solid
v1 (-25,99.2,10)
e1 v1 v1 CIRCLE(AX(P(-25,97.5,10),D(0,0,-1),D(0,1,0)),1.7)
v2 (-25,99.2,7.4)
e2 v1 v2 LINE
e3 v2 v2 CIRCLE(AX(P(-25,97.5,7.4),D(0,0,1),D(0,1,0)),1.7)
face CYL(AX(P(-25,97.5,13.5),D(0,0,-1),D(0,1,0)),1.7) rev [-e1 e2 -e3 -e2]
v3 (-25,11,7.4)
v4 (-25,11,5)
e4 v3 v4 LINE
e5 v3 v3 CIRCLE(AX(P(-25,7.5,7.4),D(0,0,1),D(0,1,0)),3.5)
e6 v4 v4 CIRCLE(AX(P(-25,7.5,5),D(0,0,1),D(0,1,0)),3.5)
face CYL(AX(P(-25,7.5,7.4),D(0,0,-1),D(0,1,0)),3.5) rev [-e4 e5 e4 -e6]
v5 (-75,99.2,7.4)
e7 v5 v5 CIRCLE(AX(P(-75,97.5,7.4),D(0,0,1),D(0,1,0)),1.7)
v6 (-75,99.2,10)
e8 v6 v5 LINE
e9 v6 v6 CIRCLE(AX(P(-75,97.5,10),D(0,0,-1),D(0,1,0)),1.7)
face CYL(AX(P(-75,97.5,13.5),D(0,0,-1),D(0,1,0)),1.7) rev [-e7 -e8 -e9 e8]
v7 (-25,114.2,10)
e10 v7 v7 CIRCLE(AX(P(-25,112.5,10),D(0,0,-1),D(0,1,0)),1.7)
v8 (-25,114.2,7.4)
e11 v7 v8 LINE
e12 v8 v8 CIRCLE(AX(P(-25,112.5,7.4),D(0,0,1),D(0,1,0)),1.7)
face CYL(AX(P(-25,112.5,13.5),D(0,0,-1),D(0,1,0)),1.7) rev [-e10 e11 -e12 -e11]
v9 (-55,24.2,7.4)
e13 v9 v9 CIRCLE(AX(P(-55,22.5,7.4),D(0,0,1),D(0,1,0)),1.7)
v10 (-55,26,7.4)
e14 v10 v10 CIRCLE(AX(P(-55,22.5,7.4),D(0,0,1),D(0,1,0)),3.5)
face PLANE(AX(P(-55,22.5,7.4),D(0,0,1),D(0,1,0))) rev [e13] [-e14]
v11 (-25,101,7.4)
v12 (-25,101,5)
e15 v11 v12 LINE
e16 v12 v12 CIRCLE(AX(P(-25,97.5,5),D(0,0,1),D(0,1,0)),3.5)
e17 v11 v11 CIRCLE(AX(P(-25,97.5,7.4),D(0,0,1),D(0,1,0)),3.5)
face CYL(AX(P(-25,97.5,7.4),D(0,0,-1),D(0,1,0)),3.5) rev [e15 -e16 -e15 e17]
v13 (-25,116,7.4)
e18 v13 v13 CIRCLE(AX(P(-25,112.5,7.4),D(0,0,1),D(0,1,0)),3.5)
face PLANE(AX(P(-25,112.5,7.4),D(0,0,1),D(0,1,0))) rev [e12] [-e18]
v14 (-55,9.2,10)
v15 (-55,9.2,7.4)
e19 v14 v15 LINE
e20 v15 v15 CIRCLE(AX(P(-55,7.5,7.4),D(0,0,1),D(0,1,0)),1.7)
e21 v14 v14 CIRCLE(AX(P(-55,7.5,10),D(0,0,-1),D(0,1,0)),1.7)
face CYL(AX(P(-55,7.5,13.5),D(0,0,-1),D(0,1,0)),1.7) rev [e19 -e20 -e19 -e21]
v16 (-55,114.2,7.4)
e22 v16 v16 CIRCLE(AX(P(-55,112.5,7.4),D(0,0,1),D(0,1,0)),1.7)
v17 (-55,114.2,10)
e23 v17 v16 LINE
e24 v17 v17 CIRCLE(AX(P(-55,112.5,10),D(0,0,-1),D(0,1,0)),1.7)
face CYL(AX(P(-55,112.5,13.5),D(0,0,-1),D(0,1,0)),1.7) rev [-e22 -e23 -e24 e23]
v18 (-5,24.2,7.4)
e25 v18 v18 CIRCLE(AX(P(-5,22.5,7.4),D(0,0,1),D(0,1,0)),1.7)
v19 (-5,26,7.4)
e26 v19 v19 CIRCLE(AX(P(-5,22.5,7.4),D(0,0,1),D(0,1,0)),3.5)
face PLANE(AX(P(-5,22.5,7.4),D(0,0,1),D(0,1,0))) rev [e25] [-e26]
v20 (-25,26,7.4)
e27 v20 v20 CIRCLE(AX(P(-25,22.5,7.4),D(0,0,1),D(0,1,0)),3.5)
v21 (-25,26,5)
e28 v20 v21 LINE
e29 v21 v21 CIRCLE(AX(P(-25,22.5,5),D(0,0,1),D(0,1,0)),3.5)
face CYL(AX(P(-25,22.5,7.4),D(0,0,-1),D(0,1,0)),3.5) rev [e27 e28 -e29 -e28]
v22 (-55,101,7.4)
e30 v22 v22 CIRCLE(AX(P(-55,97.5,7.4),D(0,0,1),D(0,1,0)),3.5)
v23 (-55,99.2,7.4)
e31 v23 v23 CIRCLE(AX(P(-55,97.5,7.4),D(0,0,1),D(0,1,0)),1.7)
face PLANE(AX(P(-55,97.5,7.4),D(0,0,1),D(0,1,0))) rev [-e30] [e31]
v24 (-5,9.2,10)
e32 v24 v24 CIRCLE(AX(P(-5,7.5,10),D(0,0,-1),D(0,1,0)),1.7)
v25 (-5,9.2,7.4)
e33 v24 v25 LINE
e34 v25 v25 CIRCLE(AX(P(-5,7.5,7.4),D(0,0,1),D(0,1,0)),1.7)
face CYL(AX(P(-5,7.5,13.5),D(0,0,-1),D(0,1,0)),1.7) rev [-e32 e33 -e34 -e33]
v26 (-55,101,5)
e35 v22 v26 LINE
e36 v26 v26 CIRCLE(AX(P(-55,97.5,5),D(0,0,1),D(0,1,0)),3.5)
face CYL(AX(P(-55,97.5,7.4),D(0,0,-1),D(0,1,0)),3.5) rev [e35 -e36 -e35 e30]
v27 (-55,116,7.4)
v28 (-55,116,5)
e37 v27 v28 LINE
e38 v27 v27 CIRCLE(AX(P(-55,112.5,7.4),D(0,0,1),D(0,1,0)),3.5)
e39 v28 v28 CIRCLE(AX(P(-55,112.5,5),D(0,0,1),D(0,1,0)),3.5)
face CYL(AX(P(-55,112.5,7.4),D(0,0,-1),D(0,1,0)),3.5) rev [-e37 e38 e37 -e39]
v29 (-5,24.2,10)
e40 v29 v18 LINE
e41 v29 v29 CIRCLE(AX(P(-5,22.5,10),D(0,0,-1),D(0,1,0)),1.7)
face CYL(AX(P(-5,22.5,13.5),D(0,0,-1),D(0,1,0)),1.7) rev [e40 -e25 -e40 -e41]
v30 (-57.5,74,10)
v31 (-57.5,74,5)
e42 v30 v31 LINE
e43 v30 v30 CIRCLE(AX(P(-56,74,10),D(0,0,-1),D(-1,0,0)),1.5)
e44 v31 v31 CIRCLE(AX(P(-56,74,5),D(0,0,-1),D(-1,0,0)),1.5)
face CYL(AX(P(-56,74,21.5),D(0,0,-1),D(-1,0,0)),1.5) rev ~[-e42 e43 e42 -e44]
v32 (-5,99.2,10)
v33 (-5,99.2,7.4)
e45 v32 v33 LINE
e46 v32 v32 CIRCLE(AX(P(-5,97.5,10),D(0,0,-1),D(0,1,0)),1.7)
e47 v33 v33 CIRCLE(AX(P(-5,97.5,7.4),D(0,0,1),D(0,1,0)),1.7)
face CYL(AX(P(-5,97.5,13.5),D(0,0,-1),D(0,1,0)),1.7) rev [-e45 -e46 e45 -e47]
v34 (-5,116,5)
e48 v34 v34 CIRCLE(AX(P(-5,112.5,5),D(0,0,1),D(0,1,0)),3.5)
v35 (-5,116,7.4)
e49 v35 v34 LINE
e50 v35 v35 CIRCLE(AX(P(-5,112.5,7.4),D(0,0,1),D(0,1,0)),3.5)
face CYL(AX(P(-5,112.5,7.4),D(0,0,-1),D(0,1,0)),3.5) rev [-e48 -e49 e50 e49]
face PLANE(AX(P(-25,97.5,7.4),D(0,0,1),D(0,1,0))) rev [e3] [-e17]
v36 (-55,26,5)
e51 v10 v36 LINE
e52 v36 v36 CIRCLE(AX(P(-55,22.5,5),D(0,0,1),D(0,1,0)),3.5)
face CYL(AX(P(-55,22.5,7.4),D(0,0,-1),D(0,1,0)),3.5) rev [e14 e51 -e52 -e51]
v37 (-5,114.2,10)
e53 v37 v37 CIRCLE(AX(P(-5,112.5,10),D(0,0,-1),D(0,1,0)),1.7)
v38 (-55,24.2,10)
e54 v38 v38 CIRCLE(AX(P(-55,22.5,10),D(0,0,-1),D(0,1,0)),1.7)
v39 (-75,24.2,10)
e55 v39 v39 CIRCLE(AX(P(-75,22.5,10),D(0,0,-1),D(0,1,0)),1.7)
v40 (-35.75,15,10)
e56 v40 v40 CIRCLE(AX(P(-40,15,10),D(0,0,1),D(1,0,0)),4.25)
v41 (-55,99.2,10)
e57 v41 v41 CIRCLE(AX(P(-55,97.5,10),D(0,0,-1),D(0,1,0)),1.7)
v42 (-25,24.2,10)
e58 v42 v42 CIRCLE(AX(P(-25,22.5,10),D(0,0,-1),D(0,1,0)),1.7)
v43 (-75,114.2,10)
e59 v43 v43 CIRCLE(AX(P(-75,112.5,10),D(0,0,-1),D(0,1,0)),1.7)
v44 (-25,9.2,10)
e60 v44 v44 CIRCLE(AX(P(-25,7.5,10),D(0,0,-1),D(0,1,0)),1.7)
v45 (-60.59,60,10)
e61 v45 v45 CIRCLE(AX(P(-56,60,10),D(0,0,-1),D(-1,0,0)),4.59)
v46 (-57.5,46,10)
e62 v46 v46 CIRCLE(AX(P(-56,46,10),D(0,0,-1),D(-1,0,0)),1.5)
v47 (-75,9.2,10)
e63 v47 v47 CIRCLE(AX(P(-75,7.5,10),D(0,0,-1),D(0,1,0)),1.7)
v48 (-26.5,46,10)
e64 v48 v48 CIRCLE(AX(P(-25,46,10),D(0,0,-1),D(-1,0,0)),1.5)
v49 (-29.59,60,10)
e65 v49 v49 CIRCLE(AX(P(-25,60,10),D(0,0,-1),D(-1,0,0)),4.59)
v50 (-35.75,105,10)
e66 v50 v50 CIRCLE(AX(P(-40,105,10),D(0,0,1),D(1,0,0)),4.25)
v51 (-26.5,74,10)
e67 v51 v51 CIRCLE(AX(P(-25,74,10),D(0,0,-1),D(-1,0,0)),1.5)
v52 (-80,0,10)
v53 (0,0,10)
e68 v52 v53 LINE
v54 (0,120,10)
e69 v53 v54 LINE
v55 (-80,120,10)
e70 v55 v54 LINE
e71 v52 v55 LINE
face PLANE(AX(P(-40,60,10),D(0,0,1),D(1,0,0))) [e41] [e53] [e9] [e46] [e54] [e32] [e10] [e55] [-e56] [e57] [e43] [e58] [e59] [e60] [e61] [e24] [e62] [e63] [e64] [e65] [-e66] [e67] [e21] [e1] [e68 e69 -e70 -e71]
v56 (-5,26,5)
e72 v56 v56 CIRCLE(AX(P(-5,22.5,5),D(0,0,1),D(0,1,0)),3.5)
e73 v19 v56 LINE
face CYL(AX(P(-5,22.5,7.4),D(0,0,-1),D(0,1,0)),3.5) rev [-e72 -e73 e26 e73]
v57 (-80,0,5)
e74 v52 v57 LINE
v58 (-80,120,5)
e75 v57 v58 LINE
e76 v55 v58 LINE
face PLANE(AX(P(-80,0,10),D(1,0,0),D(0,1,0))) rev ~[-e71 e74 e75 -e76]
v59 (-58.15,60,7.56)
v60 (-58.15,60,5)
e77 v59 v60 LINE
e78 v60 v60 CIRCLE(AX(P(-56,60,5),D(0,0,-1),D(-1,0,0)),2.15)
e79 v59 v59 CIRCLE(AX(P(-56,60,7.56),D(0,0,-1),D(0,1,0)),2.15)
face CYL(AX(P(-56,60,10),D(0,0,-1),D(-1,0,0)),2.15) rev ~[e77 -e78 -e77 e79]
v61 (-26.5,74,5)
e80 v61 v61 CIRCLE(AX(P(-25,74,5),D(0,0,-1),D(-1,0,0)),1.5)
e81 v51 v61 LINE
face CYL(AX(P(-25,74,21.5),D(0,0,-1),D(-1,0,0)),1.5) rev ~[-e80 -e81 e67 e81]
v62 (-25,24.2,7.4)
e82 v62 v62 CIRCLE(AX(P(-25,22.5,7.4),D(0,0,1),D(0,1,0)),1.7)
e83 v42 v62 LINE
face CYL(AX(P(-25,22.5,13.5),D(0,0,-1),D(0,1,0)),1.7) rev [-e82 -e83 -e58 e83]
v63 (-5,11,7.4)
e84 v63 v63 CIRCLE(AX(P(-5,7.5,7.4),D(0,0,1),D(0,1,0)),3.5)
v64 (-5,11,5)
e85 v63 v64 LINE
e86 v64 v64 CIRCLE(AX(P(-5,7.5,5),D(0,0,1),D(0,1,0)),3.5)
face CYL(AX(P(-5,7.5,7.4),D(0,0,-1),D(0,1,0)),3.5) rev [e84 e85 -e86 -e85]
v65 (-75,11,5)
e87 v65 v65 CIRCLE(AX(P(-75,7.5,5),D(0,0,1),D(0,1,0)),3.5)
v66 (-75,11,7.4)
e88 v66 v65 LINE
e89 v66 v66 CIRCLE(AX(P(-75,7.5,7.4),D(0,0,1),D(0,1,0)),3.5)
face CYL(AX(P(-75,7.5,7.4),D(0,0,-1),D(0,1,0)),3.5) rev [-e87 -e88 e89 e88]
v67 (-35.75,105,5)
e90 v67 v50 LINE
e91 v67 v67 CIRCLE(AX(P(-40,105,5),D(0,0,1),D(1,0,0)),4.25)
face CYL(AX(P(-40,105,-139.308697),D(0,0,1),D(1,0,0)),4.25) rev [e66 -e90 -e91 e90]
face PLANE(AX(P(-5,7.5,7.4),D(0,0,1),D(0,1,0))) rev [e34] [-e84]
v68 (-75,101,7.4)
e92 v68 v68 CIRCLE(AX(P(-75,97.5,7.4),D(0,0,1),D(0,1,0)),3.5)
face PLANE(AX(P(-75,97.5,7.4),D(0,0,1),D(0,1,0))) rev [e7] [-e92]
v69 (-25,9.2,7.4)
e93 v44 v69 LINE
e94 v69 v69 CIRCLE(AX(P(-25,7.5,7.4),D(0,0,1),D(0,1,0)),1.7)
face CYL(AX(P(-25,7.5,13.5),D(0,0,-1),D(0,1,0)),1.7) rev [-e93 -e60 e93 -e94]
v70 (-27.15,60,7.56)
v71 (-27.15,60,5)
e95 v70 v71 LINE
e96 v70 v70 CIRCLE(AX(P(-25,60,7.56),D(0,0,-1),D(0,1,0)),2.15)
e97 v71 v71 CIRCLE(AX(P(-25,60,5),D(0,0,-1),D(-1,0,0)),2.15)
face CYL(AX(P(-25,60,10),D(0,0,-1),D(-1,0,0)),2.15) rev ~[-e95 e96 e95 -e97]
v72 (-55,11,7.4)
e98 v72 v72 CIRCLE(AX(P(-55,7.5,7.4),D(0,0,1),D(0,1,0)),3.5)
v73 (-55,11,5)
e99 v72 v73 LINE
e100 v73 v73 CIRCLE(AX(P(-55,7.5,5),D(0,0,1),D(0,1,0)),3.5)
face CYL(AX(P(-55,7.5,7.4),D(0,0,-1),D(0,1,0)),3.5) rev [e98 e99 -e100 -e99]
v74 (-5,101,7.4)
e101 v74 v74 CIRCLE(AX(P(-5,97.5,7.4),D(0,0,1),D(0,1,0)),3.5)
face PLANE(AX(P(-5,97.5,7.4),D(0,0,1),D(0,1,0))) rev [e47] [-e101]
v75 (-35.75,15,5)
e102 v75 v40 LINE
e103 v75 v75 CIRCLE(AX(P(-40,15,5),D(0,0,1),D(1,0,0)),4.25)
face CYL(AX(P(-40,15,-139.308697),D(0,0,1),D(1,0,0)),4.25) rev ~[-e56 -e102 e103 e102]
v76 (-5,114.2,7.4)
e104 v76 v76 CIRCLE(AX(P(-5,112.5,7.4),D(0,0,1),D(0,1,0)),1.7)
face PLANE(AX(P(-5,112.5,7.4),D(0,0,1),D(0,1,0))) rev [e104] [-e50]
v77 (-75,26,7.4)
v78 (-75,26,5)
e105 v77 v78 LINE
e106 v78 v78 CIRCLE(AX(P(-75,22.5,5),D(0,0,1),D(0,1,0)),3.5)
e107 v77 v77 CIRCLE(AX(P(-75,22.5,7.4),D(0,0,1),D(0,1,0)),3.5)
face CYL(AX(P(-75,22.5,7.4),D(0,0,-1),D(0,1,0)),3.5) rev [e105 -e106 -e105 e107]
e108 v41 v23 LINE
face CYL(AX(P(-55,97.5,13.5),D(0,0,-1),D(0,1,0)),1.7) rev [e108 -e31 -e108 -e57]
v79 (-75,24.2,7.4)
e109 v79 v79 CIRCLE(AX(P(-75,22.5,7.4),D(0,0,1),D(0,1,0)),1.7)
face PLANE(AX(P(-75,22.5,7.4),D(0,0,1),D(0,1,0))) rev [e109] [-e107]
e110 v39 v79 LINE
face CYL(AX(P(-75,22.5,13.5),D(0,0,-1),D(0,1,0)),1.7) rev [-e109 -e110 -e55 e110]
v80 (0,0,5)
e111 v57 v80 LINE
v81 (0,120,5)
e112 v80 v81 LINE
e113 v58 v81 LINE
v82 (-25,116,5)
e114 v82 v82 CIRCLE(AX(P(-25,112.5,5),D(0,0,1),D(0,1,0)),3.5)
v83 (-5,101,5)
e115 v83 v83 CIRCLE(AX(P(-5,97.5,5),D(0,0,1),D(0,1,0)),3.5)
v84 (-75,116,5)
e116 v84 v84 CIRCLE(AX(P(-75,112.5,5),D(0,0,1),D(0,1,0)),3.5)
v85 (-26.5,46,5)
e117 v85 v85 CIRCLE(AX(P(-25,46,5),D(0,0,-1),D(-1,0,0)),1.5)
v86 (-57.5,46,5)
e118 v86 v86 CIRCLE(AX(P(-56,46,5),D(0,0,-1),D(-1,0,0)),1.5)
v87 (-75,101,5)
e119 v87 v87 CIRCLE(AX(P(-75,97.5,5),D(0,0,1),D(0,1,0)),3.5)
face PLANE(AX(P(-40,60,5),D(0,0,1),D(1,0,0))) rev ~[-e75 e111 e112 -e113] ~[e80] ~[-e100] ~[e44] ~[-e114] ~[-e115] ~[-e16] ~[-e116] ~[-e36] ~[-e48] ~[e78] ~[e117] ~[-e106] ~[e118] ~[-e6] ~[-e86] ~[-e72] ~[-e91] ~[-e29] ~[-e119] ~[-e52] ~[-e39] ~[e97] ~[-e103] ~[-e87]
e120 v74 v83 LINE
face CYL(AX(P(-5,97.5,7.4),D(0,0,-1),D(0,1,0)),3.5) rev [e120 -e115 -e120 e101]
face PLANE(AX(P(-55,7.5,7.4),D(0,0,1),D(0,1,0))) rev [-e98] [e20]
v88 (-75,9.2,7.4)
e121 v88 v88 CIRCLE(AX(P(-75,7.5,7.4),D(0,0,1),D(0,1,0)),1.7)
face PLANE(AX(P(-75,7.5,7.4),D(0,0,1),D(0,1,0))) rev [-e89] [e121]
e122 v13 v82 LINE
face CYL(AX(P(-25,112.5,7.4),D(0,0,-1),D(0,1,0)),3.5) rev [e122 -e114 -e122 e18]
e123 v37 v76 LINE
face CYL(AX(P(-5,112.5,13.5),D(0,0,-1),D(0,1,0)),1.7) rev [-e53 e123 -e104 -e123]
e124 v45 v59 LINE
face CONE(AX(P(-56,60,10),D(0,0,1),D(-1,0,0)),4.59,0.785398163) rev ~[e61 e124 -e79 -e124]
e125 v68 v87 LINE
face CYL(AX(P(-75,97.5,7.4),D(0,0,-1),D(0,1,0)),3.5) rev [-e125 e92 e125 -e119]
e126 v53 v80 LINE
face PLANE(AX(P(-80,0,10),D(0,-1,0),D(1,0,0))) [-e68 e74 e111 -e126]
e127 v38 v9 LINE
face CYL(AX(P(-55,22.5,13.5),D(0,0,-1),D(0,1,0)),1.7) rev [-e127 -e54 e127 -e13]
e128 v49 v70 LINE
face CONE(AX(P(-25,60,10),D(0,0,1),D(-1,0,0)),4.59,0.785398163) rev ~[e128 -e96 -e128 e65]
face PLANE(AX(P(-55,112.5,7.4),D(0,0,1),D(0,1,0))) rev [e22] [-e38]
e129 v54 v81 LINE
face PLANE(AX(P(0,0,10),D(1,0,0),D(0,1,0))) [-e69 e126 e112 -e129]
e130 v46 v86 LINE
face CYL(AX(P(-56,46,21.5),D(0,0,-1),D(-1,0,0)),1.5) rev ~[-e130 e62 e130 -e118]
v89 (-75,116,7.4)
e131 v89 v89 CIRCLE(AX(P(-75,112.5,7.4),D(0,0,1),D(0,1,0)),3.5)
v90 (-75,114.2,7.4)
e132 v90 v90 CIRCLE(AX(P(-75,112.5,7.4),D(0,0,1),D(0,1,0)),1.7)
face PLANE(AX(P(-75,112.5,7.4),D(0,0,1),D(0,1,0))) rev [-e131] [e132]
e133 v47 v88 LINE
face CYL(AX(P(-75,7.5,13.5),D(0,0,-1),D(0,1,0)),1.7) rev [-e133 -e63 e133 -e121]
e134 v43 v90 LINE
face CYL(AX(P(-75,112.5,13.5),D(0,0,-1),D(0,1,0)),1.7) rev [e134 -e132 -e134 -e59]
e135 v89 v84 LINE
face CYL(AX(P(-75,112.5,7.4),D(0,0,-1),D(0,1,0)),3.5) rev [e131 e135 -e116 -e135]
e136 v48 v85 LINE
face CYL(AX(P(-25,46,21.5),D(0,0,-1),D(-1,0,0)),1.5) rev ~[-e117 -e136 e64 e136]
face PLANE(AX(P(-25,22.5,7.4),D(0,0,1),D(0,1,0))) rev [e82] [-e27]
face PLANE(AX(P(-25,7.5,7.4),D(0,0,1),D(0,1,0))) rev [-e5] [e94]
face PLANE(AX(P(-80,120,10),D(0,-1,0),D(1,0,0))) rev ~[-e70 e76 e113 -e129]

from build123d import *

# Parameters (mm, degrees)
SKIZZE1_W                                            = 80
SKIZZE1_H                                            = 120
AUFSATZ_LINEAR_AUSTRAGEN1_DEPTH                      = 5
FORMSENKUNG_F_R_M4_SENKSCHRAUBE_MIT_INNE_D           = 4.3
FORMSENKUNG_F_R_M4_SENKSCHRAUBE_MIT_INNE_DEPTH       = 11.5
FORMSENKUNG_F_R_M4_SENKSCHRAUBE_MIT_INNE_CSINK_D     = 9.18
FORMSENKUNG_F_R_M4_SENKSCHRAUBE_MIT_INNE_CSINK_ANGLE = 90
FORMSENKUNG_F_R_M4_SENKSCHRAUBE_MIT_INNE_TIP         = 1.291850331
F_3_0MM_STIFTLOCH1_D                                 = 3
F_3_0MM_STIFTLOCH1_DEPTH                             = 11.5
F_3_0MM_STIFTLOCH1_TIP                               = 0.901290929
STIRNSENKUNG_F_R_M3_FLACHKOPFSCHRAUB_2_COUNT         = 2
STIRNSENKUNG_F_R_M3_FLACHKOPFSCHRAUB_2_PITCH         = 15
STIRNSENKUNG_F_R_M3_FLACHKOPFSCHRAUB_3_COUNT         = 2
STIRNSENKUNG_F_R_M3_FLACHKOPFSCHRAUB_3_PITCH         = 25
STIRNSENKUNG_F_R_M3_FLACHKOPFSCHRAUB_4_COUNT         = 2
STIRNSENKUNG_F_R_M3_FLACHKOPFSCHRAUB_4_PITCH         = 20
STIRNSENKUNG_F_R_M3_FLACHKOPFSCHRAUB_5_COUNT         = 2
STIRNSENKUNG_F_R_M3_FLACHKOPFSCHRAUB_5_PITCH         = 90
STIRNSENKUNG_F_R_M3_FLACHKOPFSCHRAUB_6_COUNT         = 2
STIRNSENKUNG_F_R_M3_FLACHKOPFSCHRAUB_6_PITCH         = 105
STIRNSENKUNG_F_R_M3_FLACHKOPFSCHRAUB_7_COUNT         = 2
STIRNSENKUNG_F_R_M3_FLACHKOPFSCHRAUB_7_PITCH         = 106.887791632
STIRNSENKUNG_F_R_M3_FLACHKOPFSCHRAUB_8_COUNT         = 2
STIRNSENKUNG_F_R_M3_FLACHKOPFSCHRAUB_8_PITCH         = 92.195444573
M10_GEWINDEBOHRUNG1_D                                = 8.5
LINEARES_MUSTER1_COUNT                               = 2
LINEARES_MUSTER1_PITCH                               = 50


with BuildPart() as part:
    # Skizze1 → Aufsatz-Linear austragen1 (new body)
    with BuildSketch(Plane.XY.offset(10)):
        with Locations((-40, 60)):
            Rectangle(SKIZZE1_W, SKIZZE1_H)
    extrude(amount=-AUFSATZ_LINEAR_AUSTRAGEN1_DEPTH)

    # Formsenkung für M4 Senkschraube mit Innensechskant1
    with Locations(Plane.XY.offset(10)):
        with Locations((-56, 60), (-25, 60)):
            CounterSinkHole(FORMSENKUNG_F_R_M4_SENKSCHRAUBE_MIT_INNE_D / 2, FORMSENKUNG_F_R_M4_SENKSCHRAUBE_MIT_INNE_CSINK_D / 2, depth=FORMSENKUNG_F_R_M4_SENKSCHRAUBE_MIT_INNE_DEPTH, counter_sink_angle=FORMSENKUNG_F_R_M4_SENKSCHRAUBE_MIT_INNE_CSINK_ANGLE)
            with Locations((0, 0, -(FORMSENKUNG_F_R_M4_SENKSCHRAUBE_MIT_INNE_DEPTH + FORMSENKUNG_F_R_M4_SENKSCHRAUBE_MIT_INNE_TIP / 2))):  # 118° drill point
                Cone(0, FORMSENKUNG_F_R_M4_SENKSCHRAUBE_MIT_INNE_D / 2, FORMSENKUNG_F_R_M4_SENKSCHRAUBE_MIT_INNE_TIP, mode=Mode.SUBTRACT)

    # Ø3.0mm Stiftloch1
    with Locations(Plane.XY.offset(10)):
        with Locations((-56, 74), (-25, 74), (-25, 46), (-56, 46)):
            Hole(F_3_0MM_STIFTLOCH1_D / 2, depth=F_3_0MM_STIFTLOCH1_DEPTH)
            with Locations((0, 0, -(F_3_0MM_STIFTLOCH1_DEPTH + F_3_0MM_STIFTLOCH1_TIP / 2))):  # 118° drill point
                Cone(0, F_3_0MM_STIFTLOCH1_D / 2, F_3_0MM_STIFTLOCH1_TIP, mode=Mode.SUBTRACT)

    # Skizze25 → Stirnsenkung für M3 Flachkopfschraube mit Schlitz2 (revolve, cut)
    with BuildSketch(Plane(origin=(-25, 112.5, 5), x_dir=(0, 1, 0), z_dir=(1, 0, 0))):
        Polygon((0, 0), (0, 9.521463052), (1.7, 8.5), (1.7, 2.4), (3.5, 2.4), (3.5, 0), align=None)
    stirnsenkung_f_r_m3_flachkopfschraube_mi = revolve(axis=Axis((-25, 112.5, -1.35), (0, 0, 1)), mode=Mode.SUBTRACT)

    # Stirnsenkung f_r M3 Flachkopfschraub 2: Stirnsenkung für M3 Flachkopfschraube mit Schlitz2 ×2
    with Locations(*[(0, -i * STIRNSENKUNG_F_R_M3_FLACHKOPFSCHRAUB_2_PITCH, 0) for i in range(1, STIRNSENKUNG_F_R_M3_FLACHKOPFSCHRAUB_2_COUNT)]):
        add(stirnsenkung_f_r_m3_flachkopfschraube_mi, mode=Mode.SUBTRACT)

    # Stirnsenkung f_r M3 Flachkopfschraub 3: Stirnsenkung für M3 Flachkopfschraube mit Schlitz2 ×2
    with Locations(*[Vector(0.8000000000000007, -0.5999999999999991, 0) * (i * STIRNSENKUNG_F_R_M3_FLACHKOPFSCHRAUB_3_PITCH) for i in range(1, STIRNSENKUNG_F_R_M3_FLACHKOPFSCHRAUB_3_COUNT)]):
        add(stirnsenkung_f_r_m3_flachkopfschraube_mi, mode=Mode.SUBTRACT)

    # Stirnsenkung f_r M3 Flachkopfschraub 4: Stirnsenkung für M3 Flachkopfschraube mit Schlitz2 ×2
    with Locations(*[(i * STIRNSENKUNG_F_R_M3_FLACHKOPFSCHRAUB_4_PITCH, 0, 0) for i in range(1, STIRNSENKUNG_F_R_M3_FLACHKOPFSCHRAUB_4_COUNT)]):
        add(stirnsenkung_f_r_m3_flachkopfschraube_mi, mode=Mode.SUBTRACT)

    # Stirnsenkung f_r M3 Flachkopfschraub 5: Stirnsenkung für M3 Flachkopfschraube mit Schlitz2 ×2
    with Locations(*[(0, -i * STIRNSENKUNG_F_R_M3_FLACHKOPFSCHRAUB_5_PITCH, 0) for i in range(1, STIRNSENKUNG_F_R_M3_FLACHKOPFSCHRAUB_5_COUNT)]):
        add(stirnsenkung_f_r_m3_flachkopfschraube_mi, mode=Mode.SUBTRACT)

    # Stirnsenkung f_r M3 Flachkopfschraub 6: Stirnsenkung für M3 Flachkopfschraube mit Schlitz2 ×2
    with Locations(*[(0, -i * STIRNSENKUNG_F_R_M3_FLACHKOPFSCHRAUB_6_PITCH, 0) for i in range(1, STIRNSENKUNG_F_R_M3_FLACHKOPFSCHRAUB_6_COUNT)]):
        add(stirnsenkung_f_r_m3_flachkopfschraube_mi, mode=Mode.SUBTRACT)

    # Stirnsenkung f_r M3 Flachkopfschraub 7: Stirnsenkung für M3 Flachkopfschraube mit Schlitz2 ×2
    with Locations(*[Vector(0.1871121078899952, -0.9823385664224747, 0) * (i * STIRNSENKUNG_F_R_M3_FLACHKOPFSCHRAUB_7_PITCH) for i in range(1, STIRNSENKUNG_F_R_M3_FLACHKOPFSCHRAUB_7_COUNT)]):
        add(stirnsenkung_f_r_m3_flachkopfschraube_mi, mode=Mode.SUBTRACT)

    # Stirnsenkung f_r M3 Flachkopfschraub 8: Stirnsenkung für M3 Flachkopfschraube mit Schlitz2 ×2
    with Locations(*[Vector(0.2169304578186558, -0.9761870601839528, 0) * (i * STIRNSENKUNG_F_R_M3_FLACHKOPFSCHRAUB_8_PITCH) for i in range(1, STIRNSENKUNG_F_R_M3_FLACHKOPFSCHRAUB_8_COUNT)]):
        add(stirnsenkung_f_r_m3_flachkopfschraube_mi, mode=Mode.SUBTRACT)

    # M10 Gewindebohrung1 (through all)
    with Locations(Plane(origin=(0, 0, 5), x_dir=(-1, 0, 0), z_dir=(0, 0, -1))):
        with Locations((40, 15)):
            m10_gewindebohrung1 = Hole(M10_GEWINDEBOHRUNG1_D / 2)

    # Lineares Muster1: Stirnsenkung für M3 Flachkopfschraube mit Schlitz2 ×2
    with Locations(*[(-i * LINEARES_MUSTER1_PITCH, 0, 0) for i in range(1, LINEARES_MUSTER1_COUNT)]):
        add(stirnsenkung_f_r_m3_flachkopfschraube_mi, mode=Mode.SUBTRACT)

    # Lineares Muster1 copy 1 sketch → Lineares Muster1 copy 1 (revolve, cut)
    with BuildSketch(Plane(origin=(-75, 97.5, 5), x_dir=(0, 1, 0), z_dir=(1, 0, 0))):
        Polygon((0, 0), (0, 9.521463052), (1.7, 8.5), (1.7, 2.4), (3.5, 2.4), (3.5, 0), align=None)
    revolve(axis=Axis((-75, 97.5, -1.35), (0, 0, 1)), mode=Mode.SUBTRACT)

    # Lineares Muster1 copy 2 sketch → Lineares Muster1 copy 2 (revolve, cut)
    with BuildSketch(Plane(origin=(-55, 97.5, 5), x_dir=(0, 1, 0), z_dir=(1, 0, 0))):
        Polygon((0, 0), (0, 9.521463052), (1.7, 8.5), (1.7, 2.4), (3.5, 2.4), (3.5, 0), align=None)
    revolve(axis=Axis((-55, 97.5, -1.35), (0, 0, 1)), mode=Mode.SUBTRACT)

    # Lineares Muster1 copy 3 sketch → Lineares Muster1 copy 3 (revolve, cut)
    with BuildSketch(Plane(origin=(-55, 112.5, 5), x_dir=(0, 1, 0), z_dir=(1, 0, 0))):
        Polygon((0, 0), (0, 9.521463052), (1.7, 8.5), (1.7, 2.4), (3.5, 2.4), (3.5, 0), align=None)
    revolve(axis=Axis((-55, 112.5, -1.35), (0, 0, 1)), mode=Mode.SUBTRACT)

    # Lineares Muster1 copy 4 sketch → Lineares Muster1 copy 4 (revolve, cut)
    with BuildSketch(Plane(origin=(-75, 22.5, 5), x_dir=(0, 1, 0), z_dir=(1, 0, 0))):
        Polygon((0, 0), (0, 9.521463052), (1.7, 8.5), (1.7, 2.4), (3.5, 2.4), (3.5, 0), align=None)
    revolve(axis=Axis((-75, 22.5, -1.35), (0, 0, 1)), mode=Mode.SUBTRACT)

    # Lineares Muster1 copy 5 sketch → Lineares Muster1 copy 5 (revolve, cut)
    with BuildSketch(Plane(origin=(-75, 7.5, 5), x_dir=(0, 1, 0), z_dir=(1, 0, 0))):
        Polygon((0, 0), (0, 9.521463052), (1.7, 8.5), (1.7, 2.4), (3.5, 2.4), (3.5, 0), align=None)
    revolve(axis=Axis((-75, 7.5, -1.35), (0, 0, 1)), mode=Mode.SUBTRACT)

    # Lineares Muster1 copy 6 sketch → Lineares Muster1 copy 6 (revolve, cut)
    with BuildSketch(Plane(origin=(-55, 7.5, 5), x_dir=(0, 1, 0), z_dir=(1, 0, 0))):
        Polygon((0, 0), (0, 9.521463052), (1.7, 8.5), (1.7, 2.4), (3.5, 2.4), (3.5, 0), align=None)
    revolve(axis=Axis((-55, 7.5, -1.35), (0, 0, 1)), mode=Mode.SUBTRACT)

    # Lineares Muster1 copy 7 sketch → Lineares Muster1 copy 7 (revolve, cut)
    with BuildSketch(Plane(origin=(-55, 22.5, 5), x_dir=(0, 1, 0), z_dir=(1, 0, 0))):
        Polygon((0, 0), (0, 9.521463052), (1.7, 8.5), (1.7, 2.4), (3.5, 2.4), (3.5, 0), align=None)
    revolve(axis=Axis((-55, 22.5, -1.35), (0, 0, 1)), mode=Mode.SUBTRACT)

    # Spiegeln1: M10 Gewindebohrung1 across plane
    add(m10_gewindebohrung1.mirror(Plane(origin=(0, 60, 0), x_dir=(0, 0, 1), z_dir=(0, -1, 0))), mode=Mode.SUBTRACT)


solid = part.part
